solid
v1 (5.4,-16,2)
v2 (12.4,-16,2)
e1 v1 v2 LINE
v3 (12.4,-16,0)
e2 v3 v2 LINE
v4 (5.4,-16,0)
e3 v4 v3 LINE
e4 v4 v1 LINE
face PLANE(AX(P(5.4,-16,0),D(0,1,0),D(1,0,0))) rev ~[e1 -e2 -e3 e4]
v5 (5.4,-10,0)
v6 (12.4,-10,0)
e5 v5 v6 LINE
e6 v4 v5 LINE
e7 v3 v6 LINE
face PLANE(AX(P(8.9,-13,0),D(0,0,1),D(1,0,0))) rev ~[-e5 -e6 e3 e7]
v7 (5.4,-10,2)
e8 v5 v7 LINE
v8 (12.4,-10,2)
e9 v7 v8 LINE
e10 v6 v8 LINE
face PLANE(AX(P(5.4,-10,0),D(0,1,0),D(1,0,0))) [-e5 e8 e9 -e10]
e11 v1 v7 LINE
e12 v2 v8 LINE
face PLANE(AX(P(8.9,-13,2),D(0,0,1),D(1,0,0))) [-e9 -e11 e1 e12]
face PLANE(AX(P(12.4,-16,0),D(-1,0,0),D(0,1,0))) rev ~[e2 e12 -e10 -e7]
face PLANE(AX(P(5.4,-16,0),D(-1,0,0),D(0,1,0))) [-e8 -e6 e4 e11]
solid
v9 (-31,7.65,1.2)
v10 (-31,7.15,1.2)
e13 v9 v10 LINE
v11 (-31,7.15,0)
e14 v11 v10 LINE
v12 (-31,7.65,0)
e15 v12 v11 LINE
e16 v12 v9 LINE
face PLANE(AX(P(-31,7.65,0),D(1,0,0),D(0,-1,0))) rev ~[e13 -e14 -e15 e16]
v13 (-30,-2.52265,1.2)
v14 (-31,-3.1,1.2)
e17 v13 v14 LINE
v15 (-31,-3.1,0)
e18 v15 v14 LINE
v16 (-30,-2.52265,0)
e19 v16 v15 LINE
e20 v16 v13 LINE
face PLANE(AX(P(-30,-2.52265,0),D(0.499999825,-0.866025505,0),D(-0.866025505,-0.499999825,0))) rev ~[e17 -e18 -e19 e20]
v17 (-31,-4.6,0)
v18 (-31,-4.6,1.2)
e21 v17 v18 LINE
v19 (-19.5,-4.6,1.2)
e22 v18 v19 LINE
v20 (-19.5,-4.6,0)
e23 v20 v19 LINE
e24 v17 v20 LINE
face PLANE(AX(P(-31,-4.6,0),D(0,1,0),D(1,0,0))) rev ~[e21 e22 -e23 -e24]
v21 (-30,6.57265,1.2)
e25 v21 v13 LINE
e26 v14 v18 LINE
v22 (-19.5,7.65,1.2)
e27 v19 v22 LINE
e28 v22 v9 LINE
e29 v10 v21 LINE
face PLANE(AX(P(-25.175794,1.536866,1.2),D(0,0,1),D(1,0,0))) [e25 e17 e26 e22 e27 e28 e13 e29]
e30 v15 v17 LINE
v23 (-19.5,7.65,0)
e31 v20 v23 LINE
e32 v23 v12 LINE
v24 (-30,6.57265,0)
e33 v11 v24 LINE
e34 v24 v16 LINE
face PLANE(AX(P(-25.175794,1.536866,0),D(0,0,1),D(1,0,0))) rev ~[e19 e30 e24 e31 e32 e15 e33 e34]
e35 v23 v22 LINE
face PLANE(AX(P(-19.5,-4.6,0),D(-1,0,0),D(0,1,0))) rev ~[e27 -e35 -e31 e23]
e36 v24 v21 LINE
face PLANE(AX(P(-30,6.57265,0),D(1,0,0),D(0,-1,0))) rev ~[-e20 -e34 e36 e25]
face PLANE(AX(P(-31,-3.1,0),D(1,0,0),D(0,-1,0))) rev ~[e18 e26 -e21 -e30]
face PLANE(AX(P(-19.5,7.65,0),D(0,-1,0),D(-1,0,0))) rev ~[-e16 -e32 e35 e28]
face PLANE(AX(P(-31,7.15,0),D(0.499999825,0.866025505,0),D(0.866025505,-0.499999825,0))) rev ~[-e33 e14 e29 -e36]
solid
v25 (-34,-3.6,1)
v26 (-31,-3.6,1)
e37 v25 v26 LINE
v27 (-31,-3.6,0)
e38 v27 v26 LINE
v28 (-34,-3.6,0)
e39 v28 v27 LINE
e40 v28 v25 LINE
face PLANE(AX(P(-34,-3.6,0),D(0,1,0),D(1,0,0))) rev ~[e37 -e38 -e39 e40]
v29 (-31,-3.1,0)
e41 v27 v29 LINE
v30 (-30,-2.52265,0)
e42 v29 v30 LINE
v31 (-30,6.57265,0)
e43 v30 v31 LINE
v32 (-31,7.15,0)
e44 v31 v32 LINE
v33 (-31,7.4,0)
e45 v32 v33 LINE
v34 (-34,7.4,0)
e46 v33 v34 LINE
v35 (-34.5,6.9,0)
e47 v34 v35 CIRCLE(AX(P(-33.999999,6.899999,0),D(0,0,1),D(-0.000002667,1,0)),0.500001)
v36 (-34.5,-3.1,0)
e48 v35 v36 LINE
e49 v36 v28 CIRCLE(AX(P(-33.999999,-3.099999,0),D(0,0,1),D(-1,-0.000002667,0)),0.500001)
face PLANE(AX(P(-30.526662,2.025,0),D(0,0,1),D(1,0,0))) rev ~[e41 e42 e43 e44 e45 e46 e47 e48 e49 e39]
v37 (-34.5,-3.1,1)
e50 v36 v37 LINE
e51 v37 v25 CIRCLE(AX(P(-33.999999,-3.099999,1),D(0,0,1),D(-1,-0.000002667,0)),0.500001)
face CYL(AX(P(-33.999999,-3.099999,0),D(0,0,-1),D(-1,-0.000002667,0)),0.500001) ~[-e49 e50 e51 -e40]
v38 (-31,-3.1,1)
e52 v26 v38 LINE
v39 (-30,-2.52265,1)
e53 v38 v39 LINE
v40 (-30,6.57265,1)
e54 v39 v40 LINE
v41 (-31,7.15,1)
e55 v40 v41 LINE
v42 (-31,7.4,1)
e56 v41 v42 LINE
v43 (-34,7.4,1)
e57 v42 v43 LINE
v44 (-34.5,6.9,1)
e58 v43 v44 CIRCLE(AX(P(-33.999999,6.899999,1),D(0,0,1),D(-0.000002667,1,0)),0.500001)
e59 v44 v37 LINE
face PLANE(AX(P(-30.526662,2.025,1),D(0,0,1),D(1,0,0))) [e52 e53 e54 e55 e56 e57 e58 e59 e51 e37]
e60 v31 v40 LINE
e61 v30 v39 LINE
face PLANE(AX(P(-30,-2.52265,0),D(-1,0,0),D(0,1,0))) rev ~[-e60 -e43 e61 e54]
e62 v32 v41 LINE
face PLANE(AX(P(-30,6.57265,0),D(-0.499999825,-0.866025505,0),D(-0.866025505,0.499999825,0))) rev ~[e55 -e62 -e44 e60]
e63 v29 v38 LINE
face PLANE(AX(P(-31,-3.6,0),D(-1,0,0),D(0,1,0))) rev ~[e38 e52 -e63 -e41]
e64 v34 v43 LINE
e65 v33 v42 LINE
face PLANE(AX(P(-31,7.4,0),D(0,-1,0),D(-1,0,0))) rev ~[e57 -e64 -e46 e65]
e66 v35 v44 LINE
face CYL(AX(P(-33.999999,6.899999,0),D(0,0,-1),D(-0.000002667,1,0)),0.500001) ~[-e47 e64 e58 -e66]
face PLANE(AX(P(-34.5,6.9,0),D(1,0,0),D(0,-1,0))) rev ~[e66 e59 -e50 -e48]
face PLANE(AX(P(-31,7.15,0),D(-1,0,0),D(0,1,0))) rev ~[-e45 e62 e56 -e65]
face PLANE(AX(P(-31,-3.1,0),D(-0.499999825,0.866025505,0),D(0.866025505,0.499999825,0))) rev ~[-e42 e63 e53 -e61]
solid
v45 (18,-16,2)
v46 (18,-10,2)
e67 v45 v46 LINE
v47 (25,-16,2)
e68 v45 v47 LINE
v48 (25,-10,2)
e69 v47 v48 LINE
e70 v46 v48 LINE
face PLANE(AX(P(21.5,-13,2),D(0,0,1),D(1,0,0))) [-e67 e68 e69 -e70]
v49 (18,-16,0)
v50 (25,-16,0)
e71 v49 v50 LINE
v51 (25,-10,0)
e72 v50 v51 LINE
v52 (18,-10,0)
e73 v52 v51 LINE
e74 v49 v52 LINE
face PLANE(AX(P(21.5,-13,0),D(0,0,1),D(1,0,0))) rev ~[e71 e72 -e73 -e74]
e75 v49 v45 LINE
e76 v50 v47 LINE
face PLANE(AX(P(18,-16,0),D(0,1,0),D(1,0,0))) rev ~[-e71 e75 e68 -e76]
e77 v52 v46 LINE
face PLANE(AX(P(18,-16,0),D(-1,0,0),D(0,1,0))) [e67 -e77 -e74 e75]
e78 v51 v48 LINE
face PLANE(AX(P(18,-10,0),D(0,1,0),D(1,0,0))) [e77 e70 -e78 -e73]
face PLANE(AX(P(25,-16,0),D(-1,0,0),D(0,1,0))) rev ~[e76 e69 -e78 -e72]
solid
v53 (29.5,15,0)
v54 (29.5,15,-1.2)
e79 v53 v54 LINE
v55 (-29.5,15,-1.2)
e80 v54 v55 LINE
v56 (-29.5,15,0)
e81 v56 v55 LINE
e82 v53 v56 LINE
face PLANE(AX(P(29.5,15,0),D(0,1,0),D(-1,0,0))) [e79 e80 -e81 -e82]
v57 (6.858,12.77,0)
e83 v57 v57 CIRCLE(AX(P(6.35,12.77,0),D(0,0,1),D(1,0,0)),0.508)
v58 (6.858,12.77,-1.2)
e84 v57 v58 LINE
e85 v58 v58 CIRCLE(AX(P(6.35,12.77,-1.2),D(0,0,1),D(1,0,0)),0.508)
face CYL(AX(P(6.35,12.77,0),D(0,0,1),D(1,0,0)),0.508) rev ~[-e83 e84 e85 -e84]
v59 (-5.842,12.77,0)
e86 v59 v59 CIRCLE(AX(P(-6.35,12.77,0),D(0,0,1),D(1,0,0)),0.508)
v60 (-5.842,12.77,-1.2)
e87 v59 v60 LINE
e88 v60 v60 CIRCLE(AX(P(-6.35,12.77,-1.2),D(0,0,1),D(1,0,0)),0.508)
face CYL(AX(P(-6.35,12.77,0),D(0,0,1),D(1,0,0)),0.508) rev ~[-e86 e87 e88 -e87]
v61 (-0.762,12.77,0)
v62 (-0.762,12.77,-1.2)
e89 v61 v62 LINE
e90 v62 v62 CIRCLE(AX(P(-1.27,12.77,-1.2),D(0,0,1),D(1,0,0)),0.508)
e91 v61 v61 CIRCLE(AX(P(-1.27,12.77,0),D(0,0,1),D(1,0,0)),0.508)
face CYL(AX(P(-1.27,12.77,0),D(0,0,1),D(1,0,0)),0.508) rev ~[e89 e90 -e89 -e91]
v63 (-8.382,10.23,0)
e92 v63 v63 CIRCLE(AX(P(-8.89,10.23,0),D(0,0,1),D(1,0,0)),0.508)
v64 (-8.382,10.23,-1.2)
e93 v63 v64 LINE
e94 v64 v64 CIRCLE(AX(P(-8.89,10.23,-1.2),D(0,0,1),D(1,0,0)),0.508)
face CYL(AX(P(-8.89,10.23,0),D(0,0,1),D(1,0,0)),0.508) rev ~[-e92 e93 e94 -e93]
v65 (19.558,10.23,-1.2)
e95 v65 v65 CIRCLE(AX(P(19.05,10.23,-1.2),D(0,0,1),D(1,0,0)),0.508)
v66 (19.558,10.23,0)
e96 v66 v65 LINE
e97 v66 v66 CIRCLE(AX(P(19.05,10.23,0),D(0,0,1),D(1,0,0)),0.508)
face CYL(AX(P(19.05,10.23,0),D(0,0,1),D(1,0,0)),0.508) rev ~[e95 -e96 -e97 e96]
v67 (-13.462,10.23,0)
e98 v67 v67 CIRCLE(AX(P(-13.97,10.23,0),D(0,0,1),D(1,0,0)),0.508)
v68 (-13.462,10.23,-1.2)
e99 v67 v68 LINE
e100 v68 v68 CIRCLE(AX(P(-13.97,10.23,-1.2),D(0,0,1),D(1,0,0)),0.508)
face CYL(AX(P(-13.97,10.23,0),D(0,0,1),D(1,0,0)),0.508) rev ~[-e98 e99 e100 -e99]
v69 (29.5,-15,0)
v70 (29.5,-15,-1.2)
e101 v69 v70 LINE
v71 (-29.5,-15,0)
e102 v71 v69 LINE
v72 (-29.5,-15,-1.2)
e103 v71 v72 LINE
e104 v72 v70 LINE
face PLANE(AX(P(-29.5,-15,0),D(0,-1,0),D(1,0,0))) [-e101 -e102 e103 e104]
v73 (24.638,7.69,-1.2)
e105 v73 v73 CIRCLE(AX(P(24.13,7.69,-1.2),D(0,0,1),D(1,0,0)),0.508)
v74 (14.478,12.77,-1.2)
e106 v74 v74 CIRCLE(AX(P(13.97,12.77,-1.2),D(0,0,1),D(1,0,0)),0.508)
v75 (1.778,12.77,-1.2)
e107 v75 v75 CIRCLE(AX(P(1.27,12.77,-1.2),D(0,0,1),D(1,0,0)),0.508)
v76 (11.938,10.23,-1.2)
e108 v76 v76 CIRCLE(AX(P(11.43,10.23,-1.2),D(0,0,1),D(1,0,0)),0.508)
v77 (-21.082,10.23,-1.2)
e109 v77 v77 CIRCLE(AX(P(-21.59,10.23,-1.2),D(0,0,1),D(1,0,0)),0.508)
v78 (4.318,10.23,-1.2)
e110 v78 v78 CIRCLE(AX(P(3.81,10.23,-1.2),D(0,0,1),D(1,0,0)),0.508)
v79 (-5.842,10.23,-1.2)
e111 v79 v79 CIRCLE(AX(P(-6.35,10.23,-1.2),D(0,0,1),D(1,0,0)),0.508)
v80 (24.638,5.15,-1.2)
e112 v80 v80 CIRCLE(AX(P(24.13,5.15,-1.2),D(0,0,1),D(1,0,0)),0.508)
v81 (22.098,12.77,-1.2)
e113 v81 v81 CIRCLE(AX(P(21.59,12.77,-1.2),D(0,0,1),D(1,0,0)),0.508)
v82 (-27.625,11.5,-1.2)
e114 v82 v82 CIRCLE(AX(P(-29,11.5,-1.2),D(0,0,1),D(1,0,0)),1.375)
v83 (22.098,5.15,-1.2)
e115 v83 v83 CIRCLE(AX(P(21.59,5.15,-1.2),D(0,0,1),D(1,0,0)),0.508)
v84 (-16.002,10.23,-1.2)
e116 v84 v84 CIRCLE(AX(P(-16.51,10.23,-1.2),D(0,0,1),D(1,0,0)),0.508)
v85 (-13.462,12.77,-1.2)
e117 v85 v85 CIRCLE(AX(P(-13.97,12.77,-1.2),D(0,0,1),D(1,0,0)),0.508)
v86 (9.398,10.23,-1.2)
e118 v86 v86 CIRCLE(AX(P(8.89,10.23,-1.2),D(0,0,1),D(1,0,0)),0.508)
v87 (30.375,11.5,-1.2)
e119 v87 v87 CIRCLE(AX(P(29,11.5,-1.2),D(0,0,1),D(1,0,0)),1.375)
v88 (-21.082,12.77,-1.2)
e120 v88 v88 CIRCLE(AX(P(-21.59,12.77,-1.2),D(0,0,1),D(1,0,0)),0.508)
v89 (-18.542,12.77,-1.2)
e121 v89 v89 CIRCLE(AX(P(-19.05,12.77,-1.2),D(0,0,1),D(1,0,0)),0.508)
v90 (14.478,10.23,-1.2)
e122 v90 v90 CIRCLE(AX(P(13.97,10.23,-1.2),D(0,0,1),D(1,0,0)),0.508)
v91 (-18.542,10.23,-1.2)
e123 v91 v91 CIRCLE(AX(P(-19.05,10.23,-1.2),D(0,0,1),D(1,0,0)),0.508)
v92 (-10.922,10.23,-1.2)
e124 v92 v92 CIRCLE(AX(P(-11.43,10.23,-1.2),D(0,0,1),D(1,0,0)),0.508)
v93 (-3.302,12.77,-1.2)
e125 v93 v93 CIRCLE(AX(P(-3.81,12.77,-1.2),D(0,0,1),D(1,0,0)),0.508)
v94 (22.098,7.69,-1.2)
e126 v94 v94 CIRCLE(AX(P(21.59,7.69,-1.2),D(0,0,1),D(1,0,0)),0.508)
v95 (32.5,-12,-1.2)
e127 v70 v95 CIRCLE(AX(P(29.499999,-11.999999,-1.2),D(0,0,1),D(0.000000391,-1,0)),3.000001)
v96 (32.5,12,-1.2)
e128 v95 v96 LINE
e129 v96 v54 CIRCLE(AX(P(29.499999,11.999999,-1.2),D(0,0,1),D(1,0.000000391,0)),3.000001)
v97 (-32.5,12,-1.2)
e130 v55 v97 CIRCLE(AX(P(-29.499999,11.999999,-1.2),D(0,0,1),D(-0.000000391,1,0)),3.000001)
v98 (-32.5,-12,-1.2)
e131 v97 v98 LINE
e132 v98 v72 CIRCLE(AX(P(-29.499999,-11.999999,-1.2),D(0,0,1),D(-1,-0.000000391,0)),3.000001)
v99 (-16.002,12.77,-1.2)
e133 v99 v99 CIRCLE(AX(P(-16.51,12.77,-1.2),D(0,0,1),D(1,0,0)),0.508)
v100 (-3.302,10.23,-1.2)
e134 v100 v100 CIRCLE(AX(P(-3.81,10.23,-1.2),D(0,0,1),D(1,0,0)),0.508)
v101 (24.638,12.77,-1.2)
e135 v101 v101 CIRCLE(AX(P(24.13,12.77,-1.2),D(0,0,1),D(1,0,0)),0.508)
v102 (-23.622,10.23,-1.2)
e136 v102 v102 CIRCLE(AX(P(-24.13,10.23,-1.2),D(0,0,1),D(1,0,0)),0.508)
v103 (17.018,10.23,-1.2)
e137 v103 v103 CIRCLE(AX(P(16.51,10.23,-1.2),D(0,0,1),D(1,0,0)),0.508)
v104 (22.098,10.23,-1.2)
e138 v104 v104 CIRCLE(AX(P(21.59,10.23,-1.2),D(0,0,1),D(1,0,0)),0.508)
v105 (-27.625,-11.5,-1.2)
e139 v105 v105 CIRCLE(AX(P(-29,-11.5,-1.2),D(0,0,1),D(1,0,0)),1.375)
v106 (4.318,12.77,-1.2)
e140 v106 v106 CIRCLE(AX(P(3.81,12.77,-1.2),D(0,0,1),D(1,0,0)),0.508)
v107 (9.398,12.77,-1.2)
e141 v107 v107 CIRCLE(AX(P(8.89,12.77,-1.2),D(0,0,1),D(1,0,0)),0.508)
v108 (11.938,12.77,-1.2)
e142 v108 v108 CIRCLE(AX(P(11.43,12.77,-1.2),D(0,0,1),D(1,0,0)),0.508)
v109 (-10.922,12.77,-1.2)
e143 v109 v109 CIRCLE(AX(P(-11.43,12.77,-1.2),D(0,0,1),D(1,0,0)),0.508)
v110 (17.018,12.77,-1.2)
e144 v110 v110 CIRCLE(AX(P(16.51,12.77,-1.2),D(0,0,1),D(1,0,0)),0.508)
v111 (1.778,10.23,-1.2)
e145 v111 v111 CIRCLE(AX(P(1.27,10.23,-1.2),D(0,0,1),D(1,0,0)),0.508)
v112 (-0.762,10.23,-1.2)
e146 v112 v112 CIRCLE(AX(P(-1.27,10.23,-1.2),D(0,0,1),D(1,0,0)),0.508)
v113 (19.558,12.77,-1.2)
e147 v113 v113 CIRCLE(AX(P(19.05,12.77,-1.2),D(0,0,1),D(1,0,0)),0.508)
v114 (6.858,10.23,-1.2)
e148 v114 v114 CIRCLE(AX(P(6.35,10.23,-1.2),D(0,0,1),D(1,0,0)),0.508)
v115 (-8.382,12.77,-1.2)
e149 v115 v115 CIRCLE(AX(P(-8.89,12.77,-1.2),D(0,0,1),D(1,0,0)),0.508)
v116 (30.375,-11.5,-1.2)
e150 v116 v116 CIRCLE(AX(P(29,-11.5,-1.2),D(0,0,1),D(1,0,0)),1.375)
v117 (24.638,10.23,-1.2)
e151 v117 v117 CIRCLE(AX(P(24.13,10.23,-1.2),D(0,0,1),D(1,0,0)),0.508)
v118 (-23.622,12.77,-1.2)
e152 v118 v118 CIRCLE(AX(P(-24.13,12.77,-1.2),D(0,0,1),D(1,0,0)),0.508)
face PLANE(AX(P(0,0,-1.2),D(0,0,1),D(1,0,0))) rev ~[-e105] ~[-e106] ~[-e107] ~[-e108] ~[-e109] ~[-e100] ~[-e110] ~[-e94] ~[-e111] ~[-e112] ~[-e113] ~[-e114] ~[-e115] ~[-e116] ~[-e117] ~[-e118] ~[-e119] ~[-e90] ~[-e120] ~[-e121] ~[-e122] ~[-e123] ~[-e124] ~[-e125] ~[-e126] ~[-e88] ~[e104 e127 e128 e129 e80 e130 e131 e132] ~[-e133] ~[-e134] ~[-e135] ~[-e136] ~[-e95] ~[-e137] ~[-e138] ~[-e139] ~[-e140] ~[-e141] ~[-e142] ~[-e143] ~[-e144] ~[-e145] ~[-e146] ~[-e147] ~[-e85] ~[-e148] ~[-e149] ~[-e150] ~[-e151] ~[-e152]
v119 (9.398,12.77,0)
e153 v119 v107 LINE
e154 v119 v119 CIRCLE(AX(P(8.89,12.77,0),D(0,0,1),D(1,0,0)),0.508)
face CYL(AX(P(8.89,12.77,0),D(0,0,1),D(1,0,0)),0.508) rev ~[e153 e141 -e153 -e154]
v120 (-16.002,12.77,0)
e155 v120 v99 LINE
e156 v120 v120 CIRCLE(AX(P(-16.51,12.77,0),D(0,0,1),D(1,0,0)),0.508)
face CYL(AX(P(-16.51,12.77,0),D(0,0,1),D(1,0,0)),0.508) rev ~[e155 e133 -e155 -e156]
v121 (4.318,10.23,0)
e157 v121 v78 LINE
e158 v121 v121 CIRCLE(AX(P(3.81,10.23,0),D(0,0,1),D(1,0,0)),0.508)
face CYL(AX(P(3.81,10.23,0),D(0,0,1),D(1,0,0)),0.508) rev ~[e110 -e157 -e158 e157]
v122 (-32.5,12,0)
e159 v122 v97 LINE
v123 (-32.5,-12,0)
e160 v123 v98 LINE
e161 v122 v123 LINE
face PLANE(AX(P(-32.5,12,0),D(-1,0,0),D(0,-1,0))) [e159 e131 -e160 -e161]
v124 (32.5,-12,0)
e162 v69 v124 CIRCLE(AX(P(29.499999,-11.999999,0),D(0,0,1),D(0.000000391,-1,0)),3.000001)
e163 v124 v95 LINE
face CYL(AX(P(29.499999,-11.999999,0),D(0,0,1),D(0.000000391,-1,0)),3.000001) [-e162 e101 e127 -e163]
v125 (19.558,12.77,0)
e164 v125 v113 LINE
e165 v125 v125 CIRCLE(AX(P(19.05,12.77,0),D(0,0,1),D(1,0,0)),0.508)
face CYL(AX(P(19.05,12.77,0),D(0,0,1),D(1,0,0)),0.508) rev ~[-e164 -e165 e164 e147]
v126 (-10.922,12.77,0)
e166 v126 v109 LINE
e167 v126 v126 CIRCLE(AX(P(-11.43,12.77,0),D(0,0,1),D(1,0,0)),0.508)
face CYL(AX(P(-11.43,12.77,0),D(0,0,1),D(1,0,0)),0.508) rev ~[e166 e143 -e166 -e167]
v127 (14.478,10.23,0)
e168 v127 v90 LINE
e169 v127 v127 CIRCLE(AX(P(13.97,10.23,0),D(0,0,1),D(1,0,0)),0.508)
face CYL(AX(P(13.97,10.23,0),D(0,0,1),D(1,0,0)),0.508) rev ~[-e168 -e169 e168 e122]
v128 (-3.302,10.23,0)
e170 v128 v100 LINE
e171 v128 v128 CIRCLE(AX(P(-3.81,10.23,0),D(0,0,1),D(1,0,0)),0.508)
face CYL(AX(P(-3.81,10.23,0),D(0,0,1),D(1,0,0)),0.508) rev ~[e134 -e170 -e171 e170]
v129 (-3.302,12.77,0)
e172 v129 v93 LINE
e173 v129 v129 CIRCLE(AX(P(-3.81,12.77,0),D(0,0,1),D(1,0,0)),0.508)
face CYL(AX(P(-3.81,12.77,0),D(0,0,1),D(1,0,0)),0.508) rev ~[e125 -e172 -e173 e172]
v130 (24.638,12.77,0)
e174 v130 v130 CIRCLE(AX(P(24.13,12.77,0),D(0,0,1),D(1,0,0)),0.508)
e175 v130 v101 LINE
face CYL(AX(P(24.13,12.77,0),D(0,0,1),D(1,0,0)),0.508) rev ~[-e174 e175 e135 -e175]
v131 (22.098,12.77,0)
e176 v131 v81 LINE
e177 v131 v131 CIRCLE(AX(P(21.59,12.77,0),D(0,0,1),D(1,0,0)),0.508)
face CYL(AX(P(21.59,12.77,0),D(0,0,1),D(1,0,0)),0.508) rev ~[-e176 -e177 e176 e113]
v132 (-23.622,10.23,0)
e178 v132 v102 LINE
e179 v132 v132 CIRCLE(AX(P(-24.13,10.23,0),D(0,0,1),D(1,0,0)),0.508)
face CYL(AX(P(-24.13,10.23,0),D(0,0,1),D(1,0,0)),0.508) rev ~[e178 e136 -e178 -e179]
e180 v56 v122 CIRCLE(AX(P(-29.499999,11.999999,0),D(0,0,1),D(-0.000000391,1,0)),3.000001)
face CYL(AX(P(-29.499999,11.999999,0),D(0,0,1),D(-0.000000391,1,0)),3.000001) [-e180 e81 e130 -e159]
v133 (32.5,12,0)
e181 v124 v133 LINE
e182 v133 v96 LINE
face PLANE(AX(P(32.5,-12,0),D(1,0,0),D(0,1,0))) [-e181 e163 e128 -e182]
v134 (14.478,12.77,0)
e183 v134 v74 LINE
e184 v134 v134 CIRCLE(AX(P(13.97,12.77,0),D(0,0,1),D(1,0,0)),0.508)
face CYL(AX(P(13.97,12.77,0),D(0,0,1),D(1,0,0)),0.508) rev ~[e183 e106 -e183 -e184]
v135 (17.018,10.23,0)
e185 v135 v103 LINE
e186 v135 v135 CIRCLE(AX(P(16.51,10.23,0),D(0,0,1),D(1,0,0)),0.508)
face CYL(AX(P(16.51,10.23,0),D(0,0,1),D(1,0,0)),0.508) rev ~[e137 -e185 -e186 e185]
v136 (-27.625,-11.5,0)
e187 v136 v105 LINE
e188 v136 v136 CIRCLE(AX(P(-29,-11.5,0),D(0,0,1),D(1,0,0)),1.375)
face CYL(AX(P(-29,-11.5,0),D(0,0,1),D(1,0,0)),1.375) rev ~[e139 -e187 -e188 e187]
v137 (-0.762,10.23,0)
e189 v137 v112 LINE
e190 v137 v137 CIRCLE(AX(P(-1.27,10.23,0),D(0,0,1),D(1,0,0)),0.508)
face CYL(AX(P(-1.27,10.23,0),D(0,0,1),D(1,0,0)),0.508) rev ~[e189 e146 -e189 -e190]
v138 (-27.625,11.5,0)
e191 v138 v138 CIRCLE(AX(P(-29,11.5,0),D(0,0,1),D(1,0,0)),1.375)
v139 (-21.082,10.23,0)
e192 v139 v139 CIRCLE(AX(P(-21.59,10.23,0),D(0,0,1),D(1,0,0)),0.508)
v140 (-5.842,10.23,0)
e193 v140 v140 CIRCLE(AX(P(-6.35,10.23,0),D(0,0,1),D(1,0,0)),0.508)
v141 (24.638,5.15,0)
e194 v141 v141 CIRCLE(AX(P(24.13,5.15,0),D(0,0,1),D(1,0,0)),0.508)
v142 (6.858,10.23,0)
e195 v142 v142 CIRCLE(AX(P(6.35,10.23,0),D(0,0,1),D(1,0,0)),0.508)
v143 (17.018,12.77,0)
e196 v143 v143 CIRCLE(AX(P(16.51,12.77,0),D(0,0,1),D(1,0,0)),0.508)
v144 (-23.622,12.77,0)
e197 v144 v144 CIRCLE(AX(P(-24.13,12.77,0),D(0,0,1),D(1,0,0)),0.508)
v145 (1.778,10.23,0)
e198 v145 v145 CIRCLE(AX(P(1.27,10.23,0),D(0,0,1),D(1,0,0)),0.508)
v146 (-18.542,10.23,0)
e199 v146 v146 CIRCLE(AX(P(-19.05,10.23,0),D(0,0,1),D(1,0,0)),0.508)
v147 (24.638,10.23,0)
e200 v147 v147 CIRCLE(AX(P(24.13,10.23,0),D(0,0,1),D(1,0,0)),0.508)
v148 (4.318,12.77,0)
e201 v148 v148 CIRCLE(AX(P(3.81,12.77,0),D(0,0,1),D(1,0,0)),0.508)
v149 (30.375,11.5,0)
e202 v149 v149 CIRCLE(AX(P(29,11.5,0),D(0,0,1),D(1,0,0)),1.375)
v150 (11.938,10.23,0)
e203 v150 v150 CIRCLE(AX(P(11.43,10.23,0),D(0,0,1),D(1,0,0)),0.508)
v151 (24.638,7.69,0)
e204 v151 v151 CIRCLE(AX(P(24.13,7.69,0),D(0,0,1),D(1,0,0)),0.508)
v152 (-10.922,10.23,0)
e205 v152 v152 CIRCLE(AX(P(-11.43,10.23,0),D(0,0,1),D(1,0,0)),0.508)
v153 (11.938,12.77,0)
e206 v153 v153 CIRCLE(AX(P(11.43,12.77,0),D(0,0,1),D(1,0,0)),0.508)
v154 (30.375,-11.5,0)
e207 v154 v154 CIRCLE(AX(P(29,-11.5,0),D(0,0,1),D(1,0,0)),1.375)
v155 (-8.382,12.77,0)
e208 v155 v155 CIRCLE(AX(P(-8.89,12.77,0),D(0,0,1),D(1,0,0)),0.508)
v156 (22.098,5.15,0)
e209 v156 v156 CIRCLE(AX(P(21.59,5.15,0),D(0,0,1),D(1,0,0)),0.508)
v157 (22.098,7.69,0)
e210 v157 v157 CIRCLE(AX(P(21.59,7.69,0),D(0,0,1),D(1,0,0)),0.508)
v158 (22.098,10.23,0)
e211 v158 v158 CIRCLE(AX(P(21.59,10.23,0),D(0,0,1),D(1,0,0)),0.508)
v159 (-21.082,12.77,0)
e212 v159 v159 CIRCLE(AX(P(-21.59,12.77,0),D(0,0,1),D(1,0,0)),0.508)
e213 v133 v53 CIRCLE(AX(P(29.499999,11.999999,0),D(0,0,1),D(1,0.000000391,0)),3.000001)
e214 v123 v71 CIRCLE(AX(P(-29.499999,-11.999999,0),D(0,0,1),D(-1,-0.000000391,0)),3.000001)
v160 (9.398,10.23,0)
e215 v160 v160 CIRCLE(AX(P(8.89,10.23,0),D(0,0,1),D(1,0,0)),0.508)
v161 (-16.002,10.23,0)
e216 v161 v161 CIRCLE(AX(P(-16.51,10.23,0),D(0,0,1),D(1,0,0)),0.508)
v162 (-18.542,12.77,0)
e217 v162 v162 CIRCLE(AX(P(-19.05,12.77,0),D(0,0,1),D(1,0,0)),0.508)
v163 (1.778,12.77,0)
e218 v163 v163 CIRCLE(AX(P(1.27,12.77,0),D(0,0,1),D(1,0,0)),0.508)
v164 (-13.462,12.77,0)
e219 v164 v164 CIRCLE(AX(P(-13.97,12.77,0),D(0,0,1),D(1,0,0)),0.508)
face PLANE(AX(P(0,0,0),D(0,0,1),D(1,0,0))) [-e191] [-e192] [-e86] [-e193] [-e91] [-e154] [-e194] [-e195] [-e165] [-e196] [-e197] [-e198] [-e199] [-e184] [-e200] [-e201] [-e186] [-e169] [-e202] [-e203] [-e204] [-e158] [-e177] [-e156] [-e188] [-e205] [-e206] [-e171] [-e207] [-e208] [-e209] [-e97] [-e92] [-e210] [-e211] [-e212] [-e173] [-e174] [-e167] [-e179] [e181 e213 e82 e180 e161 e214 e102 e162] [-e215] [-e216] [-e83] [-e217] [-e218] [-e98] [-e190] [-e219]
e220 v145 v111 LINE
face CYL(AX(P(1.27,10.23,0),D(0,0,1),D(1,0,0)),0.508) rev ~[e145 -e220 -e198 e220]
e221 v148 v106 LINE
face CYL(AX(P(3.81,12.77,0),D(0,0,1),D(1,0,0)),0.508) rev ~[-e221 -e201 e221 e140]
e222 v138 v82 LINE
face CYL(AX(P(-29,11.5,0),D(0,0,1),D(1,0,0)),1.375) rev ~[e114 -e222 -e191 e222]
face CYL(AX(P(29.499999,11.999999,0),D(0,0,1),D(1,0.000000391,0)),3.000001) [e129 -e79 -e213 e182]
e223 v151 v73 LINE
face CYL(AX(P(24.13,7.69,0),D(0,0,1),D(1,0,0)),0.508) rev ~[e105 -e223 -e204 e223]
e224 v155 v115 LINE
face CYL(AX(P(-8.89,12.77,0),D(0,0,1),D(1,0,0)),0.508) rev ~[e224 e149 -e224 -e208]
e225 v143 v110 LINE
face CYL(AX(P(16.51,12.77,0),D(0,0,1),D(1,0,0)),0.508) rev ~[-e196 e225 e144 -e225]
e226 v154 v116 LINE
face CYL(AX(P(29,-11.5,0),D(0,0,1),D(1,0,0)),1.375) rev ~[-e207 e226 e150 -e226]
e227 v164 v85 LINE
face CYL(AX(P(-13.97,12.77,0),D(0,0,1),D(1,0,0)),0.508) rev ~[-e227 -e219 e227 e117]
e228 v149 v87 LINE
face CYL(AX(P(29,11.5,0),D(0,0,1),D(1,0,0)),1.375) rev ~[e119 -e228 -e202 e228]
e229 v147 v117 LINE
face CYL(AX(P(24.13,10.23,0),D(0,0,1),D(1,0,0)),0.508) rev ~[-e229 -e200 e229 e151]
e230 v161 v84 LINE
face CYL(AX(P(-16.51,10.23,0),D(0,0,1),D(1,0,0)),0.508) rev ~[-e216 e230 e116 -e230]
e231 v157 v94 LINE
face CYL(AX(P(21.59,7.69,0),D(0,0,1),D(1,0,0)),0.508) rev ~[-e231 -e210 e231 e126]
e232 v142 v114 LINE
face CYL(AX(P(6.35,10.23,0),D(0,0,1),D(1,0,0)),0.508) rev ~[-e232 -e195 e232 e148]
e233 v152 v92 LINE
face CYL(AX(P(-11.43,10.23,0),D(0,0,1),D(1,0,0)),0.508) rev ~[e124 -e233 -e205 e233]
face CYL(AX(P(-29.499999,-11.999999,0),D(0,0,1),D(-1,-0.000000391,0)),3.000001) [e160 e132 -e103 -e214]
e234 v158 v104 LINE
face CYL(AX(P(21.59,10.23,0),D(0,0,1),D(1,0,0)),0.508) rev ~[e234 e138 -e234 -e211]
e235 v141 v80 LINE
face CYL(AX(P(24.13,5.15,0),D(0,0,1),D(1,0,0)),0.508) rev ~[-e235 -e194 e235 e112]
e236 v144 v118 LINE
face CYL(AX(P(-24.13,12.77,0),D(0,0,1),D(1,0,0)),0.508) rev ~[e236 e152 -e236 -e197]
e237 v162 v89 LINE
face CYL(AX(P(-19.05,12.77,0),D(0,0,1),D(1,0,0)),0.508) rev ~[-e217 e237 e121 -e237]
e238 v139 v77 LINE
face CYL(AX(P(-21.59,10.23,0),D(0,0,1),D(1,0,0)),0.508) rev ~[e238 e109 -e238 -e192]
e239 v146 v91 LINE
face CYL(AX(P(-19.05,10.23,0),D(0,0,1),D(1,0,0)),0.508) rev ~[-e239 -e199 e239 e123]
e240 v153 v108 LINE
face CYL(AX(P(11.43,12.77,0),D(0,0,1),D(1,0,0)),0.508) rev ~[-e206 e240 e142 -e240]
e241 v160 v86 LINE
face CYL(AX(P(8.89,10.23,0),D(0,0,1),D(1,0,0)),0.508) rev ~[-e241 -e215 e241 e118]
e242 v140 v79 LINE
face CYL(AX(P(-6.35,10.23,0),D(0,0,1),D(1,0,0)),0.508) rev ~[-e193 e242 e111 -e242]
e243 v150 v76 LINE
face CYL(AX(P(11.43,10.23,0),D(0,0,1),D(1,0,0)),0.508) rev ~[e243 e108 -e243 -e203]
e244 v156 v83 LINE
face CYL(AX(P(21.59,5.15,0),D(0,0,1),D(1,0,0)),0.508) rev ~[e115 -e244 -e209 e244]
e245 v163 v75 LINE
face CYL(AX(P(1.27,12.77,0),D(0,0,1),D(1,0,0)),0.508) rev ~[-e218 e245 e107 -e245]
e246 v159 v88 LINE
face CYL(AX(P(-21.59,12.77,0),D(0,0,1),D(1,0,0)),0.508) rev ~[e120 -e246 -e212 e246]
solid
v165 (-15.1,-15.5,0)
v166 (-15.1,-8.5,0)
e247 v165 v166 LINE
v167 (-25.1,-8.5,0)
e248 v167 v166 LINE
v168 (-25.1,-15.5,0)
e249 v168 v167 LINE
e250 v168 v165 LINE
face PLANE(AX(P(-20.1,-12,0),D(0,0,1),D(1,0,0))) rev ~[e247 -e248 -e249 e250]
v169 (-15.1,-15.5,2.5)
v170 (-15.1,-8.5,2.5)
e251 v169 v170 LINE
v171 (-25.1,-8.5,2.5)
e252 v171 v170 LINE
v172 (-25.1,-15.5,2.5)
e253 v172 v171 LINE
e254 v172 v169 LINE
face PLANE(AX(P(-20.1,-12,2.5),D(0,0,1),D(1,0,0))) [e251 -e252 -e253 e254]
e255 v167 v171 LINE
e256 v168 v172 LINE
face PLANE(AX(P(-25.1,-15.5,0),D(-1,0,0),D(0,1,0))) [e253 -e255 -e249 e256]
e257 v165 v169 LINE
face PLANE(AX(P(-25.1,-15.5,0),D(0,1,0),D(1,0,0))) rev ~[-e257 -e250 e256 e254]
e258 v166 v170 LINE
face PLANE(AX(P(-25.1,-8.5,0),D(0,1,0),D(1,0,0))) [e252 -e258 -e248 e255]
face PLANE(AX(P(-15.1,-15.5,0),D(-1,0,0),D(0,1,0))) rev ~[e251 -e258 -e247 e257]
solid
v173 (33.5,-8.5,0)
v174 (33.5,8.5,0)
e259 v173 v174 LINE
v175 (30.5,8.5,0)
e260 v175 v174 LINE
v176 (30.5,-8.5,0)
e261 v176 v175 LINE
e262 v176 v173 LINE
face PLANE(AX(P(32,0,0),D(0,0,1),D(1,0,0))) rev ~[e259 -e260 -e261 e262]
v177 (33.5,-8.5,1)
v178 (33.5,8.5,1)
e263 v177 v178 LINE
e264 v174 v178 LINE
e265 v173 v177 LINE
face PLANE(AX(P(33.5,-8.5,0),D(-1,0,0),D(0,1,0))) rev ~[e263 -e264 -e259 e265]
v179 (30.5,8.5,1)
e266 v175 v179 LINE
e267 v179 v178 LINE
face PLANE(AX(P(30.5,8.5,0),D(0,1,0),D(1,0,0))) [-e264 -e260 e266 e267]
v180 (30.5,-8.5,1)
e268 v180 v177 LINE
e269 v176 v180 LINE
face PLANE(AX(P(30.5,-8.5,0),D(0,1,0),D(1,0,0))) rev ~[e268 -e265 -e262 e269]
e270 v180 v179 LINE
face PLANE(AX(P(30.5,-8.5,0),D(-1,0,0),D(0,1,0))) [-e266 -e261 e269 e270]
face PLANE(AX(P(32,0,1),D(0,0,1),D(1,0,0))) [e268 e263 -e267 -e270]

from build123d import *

# Parameters (mm, degrees)
F0_R     = 3
F0_R_2   = 0.508
F0_R_3   = 1.375
F2_DEPTH = 1.2
F1_W     = 3
F1_H     = 17
F3_DEPTH = 1
F1_W_2   = 7
F1_H_2   = 6
F4_DEPTH = 2
F1_W_3   = 10
F1_H_3   = 7
F5_DEPTH = 2.5
F6_DEPTH = 1.2
F7_DEPTH = 1


with BuildPart() as f2:
    # F0 (on Top) → F2 (new body)
    with BuildSketch(Plane.XY):
        with BuildLine():
            ThreePointArc((32.5, 12), (31.62132, 14.12132), (29.5, 15))
            Line((29.5, 15), (-29.5, 15))
            ThreePointArc((-29.5, 15), (-31.62132, 14.12132), (-32.5, 12))
            Line((-32.5, 12), (-32.5, -12))
            ThreePointArc((-32.5, -12), (-31.62132, -14.12132), (-29.5, -15))
            Line((-29.5, -15), (29.5, -15))
            ThreePointArc((29.5, -15), (31.62132, -14.12132), (32.5, -12))
            Line((32.5, -12), (32.5, 12))
        make_face()
        with Locations((-29, -11.5)):
            Circle(F0_R, mode=Mode.SUBTRACT)
        with Locations((29, -11.5)):
            Circle(F0_R, mode=Mode.SUBTRACT)
        with Locations((-24.13, 10.23)):
            Circle(F0_R_2, mode=Mode.SUBTRACT)
        with Locations((-21.59, 10.23)):
            Circle(F0_R_2, mode=Mode.SUBTRACT)
        with Locations((-19.05, 10.23)):
            Circle(F0_R_2, mode=Mode.SUBTRACT)
        with Locations((-16.51, 10.23)):
            Circle(F0_R_2, mode=Mode.SUBTRACT)
        with Locations((-29, 11.5)):
            Circle(F0_R, mode=Mode.SUBTRACT)
        with Locations((-24.13, 12.77)):
            Circle(F0_R_2, mode=Mode.SUBTRACT)
        with Locations((-21.59, 12.77)):
            Circle(F0_R_2, mode=Mode.SUBTRACT)
        with Locations((-19.05, 12.77)):
            Circle(F0_R_2, mode=Mode.SUBTRACT)
        with Locations((-16.51, 12.77)):
            Circle(F0_R_2, mode=Mode.SUBTRACT)
        with Locations((-13.97, 10.23)):
            Circle(F0_R_2, mode=Mode.SUBTRACT)
        with Locations((-11.43, 10.23)):
            Circle(F0_R_2, mode=Mode.SUBTRACT)
        with Locations((-8.89, 10.23)):
            Circle(F0_R_2, mode=Mode.SUBTRACT)
        with Locations((-6.35, 10.23)):
            Circle(F0_R_2, mode=Mode.SUBTRACT)
        with Locations((-3.81, 10.23)):
            Circle(F0_R_2, mode=Mode.SUBTRACT)
        with Locations((-1.27, 10.23)):
            Circle(F0_R_2, mode=Mode.SUBTRACT)
        with Locations((-13.97, 12.77)):
            Circle(F0_R_2, mode=Mode.SUBTRACT)
        with Locations((-11.43, 12.77)):
            Circle(F0_R_2, mode=Mode.SUBTRACT)
        with Locations((-8.89, 12.77)):
            Circle(F0_R_2, mode=Mode.SUBTRACT)
        with Locations((-6.35, 12.77)):
            Circle(F0_R_2, mode=Mode.SUBTRACT)
        with Locations((-3.81, 12.77)):
            Circle(F0_R_2, mode=Mode.SUBTRACT)
        with Locations((-1.27, 12.77)):
            Circle(F0_R_2, mode=Mode.SUBTRACT)
        with Locations((21.59, 5.15)):
            Circle(F0_R_2, mode=Mode.SUBTRACT)
        with Locations((24.13, 5.15)):
            Circle(F0_R_2, mode=Mode.SUBTRACT)
        with Locations((1.27, 10.23)):
            Circle(F0_R_2, mode=Mode.SUBTRACT)
        with Locations((3.81, 10.23)):
            Circle(F0_R_2, mode=Mode.SUBTRACT)
        with Locations((6.35, 10.23)):
            Circle(F0_R_2, mode=Mode.SUBTRACT)
        with Locations((8.89, 10.23)):
            Circle(F0_R_2, mode=Mode.SUBTRACT)
        with Locations((11.43, 10.23)):
            Circle(F0_R_2, mode=Mode.SUBTRACT)
        with Locations((13.97, 10.23)):
            Circle(F0_R_2, mode=Mode.SUBTRACT)
        with Locations((1.27, 12.77)):
            Circle(F0_R_2, mode=Mode.SUBTRACT)
        with Locations((3.81, 12.77)):
            Circle(F0_R_2, mode=Mode.SUBTRACT)
        with Locations((6.35, 12.77)):
            Circle(F0_R_2, mode=Mode.SUBTRACT)
        with Locations((8.89, 12.77)):
            Circle(F0_R_2, mode=Mode.SUBTRACT)
        with Locations((11.43, 12.77)):
            Circle(F0_R_2, mode=Mode.SUBTRACT)
        with Locations((13.97, 12.77)):
            Circle(F0_R_2, mode=Mode.SUBTRACT)
        with Locations((21.59, 7.69)):
            Circle(F0_R_2, mode=Mode.SUBTRACT)
        with Locations((24.13, 7.69)):
            Circle(F0_R_2, mode=Mode.SUBTRACT)
        with Locations((16.51, 10.23)):
            Circle(F0_R_2, mode=Mode.SUBTRACT)
        with Locations((19.05, 10.23)):
            Circle(F0_R_2, mode=Mode.SUBTRACT)
        with Locations((21.59, 10.23)):
            Circle(F0_R_2, mode=Mode.SUBTRACT)
        with Locations((24.13, 10.23)):
            Circle(F0_R_2, mode=Mode.SUBTRACT)
        with Locations((16.51, 12.77)):
            Circle(F0_R_2, mode=Mode.SUBTRACT)
        with Locations((19.05, 12.77)):
            Circle(F0_R_2, mode=Mode.SUBTRACT)
        with Locations((21.59, 12.77)):
            Circle(F0_R_2, mode=Mode.SUBTRACT)
        with Locations((24.13, 12.77)):
            Circle(F0_R_2, mode=Mode.SUBTRACT)
        with Locations((29, 11.5)):
            Circle(F0_R, mode=Mode.SUBTRACT)
        with Locations((-29, -11.5)):
            Circle(F0_R)
        with Locations((-29, -11.5)):
            Circle(F0_R_3, mode=Mode.SUBTRACT)
        with Locations((-29, 11.5)):
            Circle(F0_R)
        with Locations((-29, 11.5)):
            Circle(F0_R_3, mode=Mode.SUBTRACT)
        with Locations((29, 11.5)):
            Circle(F0_R)
        with Locations((29, 11.5)):
            Circle(F0_R_3, mode=Mode.SUBTRACT)
        with Locations((29, -11.5)):
            Circle(F0_R)
        with Locations((29, -11.5)):
            Circle(F0_R_3, mode=Mode.SUBTRACT)
    extrude(amount=-F2_DEPTH)


with BuildPart() as f3:
    # F1 (on Top) → F3 (new body)
    with BuildSketch(Plane.XY):
        with Locations((32, 0)):
            Rectangle(F1_W, F1_H)
    extrude(amount=F3_DEPTH)


with BuildPart() as f4:
    # F1 (on Top) → F4 (new body)
    with BuildSketch(Plane.XY):
        with Locations((21.5, -13)):
            Rectangle(F1_W_2, F1_H_2)
        with Locations((8.9, -13)):
            Rectangle(F1_W_2, F1_H_2)
    extrude(amount=F4_DEPTH)


with BuildPart() as f5:
    # F1 (on Top) → F5 (new body)
    with BuildSketch(Plane.XY):
        with Locations((-20.1, -12)):
            Rectangle(F1_W_3, F1_H_3)
    extrude(amount=F5_DEPTH)


with BuildPart() as f6:
    # F1 (on Top) → F6 (new body)
    with BuildSketch(Plane.XY):
        Polygon((-19.5, -4.6), (-19.5, 7.65), (-31, 7.65), (-31, 7.4), (-31, 7.15), (-30, 6.57265), (-30, -2.52265), (-31, -3.1), (-31, -3.6), (-31, -4.6), align=None)
    extrude(amount=F6_DEPTH)


with BuildPart() as f7:
    # F1 (on Top) → F7 (new body)
    with BuildSketch(Plane.XY):
        Polygon((-30, 6.57265), (-31, 7.15), (-31, -3.1), (-30, -2.52265), align=None)
        with BuildLine():
            Line((-31, 7.15), (-31, 7.4))
            Line((-31, 7.4), (-34, 7.4))
            ThreePointArc((-34, 7.4), (-34.353553, 7.253553), (-34.5, 6.9))
            Line((-34.5, 6.9), (-34.5, -3.1))
            ThreePointArc((-34.5, -3.1), (-34.353553, -3.453553), (-34, -3.6))
            Line((-34, -3.6), (-31, -3.6))
            Line((-31, -3.6), (-31, -3.1))
            Line((-31, -3.1), (-31, 7.15))
        make_face()
    extrude(amount=F7_DEPTH)


solid = Compound([f2.part, f3.part, f4.part, f5.part, f6.part, f7.part])
